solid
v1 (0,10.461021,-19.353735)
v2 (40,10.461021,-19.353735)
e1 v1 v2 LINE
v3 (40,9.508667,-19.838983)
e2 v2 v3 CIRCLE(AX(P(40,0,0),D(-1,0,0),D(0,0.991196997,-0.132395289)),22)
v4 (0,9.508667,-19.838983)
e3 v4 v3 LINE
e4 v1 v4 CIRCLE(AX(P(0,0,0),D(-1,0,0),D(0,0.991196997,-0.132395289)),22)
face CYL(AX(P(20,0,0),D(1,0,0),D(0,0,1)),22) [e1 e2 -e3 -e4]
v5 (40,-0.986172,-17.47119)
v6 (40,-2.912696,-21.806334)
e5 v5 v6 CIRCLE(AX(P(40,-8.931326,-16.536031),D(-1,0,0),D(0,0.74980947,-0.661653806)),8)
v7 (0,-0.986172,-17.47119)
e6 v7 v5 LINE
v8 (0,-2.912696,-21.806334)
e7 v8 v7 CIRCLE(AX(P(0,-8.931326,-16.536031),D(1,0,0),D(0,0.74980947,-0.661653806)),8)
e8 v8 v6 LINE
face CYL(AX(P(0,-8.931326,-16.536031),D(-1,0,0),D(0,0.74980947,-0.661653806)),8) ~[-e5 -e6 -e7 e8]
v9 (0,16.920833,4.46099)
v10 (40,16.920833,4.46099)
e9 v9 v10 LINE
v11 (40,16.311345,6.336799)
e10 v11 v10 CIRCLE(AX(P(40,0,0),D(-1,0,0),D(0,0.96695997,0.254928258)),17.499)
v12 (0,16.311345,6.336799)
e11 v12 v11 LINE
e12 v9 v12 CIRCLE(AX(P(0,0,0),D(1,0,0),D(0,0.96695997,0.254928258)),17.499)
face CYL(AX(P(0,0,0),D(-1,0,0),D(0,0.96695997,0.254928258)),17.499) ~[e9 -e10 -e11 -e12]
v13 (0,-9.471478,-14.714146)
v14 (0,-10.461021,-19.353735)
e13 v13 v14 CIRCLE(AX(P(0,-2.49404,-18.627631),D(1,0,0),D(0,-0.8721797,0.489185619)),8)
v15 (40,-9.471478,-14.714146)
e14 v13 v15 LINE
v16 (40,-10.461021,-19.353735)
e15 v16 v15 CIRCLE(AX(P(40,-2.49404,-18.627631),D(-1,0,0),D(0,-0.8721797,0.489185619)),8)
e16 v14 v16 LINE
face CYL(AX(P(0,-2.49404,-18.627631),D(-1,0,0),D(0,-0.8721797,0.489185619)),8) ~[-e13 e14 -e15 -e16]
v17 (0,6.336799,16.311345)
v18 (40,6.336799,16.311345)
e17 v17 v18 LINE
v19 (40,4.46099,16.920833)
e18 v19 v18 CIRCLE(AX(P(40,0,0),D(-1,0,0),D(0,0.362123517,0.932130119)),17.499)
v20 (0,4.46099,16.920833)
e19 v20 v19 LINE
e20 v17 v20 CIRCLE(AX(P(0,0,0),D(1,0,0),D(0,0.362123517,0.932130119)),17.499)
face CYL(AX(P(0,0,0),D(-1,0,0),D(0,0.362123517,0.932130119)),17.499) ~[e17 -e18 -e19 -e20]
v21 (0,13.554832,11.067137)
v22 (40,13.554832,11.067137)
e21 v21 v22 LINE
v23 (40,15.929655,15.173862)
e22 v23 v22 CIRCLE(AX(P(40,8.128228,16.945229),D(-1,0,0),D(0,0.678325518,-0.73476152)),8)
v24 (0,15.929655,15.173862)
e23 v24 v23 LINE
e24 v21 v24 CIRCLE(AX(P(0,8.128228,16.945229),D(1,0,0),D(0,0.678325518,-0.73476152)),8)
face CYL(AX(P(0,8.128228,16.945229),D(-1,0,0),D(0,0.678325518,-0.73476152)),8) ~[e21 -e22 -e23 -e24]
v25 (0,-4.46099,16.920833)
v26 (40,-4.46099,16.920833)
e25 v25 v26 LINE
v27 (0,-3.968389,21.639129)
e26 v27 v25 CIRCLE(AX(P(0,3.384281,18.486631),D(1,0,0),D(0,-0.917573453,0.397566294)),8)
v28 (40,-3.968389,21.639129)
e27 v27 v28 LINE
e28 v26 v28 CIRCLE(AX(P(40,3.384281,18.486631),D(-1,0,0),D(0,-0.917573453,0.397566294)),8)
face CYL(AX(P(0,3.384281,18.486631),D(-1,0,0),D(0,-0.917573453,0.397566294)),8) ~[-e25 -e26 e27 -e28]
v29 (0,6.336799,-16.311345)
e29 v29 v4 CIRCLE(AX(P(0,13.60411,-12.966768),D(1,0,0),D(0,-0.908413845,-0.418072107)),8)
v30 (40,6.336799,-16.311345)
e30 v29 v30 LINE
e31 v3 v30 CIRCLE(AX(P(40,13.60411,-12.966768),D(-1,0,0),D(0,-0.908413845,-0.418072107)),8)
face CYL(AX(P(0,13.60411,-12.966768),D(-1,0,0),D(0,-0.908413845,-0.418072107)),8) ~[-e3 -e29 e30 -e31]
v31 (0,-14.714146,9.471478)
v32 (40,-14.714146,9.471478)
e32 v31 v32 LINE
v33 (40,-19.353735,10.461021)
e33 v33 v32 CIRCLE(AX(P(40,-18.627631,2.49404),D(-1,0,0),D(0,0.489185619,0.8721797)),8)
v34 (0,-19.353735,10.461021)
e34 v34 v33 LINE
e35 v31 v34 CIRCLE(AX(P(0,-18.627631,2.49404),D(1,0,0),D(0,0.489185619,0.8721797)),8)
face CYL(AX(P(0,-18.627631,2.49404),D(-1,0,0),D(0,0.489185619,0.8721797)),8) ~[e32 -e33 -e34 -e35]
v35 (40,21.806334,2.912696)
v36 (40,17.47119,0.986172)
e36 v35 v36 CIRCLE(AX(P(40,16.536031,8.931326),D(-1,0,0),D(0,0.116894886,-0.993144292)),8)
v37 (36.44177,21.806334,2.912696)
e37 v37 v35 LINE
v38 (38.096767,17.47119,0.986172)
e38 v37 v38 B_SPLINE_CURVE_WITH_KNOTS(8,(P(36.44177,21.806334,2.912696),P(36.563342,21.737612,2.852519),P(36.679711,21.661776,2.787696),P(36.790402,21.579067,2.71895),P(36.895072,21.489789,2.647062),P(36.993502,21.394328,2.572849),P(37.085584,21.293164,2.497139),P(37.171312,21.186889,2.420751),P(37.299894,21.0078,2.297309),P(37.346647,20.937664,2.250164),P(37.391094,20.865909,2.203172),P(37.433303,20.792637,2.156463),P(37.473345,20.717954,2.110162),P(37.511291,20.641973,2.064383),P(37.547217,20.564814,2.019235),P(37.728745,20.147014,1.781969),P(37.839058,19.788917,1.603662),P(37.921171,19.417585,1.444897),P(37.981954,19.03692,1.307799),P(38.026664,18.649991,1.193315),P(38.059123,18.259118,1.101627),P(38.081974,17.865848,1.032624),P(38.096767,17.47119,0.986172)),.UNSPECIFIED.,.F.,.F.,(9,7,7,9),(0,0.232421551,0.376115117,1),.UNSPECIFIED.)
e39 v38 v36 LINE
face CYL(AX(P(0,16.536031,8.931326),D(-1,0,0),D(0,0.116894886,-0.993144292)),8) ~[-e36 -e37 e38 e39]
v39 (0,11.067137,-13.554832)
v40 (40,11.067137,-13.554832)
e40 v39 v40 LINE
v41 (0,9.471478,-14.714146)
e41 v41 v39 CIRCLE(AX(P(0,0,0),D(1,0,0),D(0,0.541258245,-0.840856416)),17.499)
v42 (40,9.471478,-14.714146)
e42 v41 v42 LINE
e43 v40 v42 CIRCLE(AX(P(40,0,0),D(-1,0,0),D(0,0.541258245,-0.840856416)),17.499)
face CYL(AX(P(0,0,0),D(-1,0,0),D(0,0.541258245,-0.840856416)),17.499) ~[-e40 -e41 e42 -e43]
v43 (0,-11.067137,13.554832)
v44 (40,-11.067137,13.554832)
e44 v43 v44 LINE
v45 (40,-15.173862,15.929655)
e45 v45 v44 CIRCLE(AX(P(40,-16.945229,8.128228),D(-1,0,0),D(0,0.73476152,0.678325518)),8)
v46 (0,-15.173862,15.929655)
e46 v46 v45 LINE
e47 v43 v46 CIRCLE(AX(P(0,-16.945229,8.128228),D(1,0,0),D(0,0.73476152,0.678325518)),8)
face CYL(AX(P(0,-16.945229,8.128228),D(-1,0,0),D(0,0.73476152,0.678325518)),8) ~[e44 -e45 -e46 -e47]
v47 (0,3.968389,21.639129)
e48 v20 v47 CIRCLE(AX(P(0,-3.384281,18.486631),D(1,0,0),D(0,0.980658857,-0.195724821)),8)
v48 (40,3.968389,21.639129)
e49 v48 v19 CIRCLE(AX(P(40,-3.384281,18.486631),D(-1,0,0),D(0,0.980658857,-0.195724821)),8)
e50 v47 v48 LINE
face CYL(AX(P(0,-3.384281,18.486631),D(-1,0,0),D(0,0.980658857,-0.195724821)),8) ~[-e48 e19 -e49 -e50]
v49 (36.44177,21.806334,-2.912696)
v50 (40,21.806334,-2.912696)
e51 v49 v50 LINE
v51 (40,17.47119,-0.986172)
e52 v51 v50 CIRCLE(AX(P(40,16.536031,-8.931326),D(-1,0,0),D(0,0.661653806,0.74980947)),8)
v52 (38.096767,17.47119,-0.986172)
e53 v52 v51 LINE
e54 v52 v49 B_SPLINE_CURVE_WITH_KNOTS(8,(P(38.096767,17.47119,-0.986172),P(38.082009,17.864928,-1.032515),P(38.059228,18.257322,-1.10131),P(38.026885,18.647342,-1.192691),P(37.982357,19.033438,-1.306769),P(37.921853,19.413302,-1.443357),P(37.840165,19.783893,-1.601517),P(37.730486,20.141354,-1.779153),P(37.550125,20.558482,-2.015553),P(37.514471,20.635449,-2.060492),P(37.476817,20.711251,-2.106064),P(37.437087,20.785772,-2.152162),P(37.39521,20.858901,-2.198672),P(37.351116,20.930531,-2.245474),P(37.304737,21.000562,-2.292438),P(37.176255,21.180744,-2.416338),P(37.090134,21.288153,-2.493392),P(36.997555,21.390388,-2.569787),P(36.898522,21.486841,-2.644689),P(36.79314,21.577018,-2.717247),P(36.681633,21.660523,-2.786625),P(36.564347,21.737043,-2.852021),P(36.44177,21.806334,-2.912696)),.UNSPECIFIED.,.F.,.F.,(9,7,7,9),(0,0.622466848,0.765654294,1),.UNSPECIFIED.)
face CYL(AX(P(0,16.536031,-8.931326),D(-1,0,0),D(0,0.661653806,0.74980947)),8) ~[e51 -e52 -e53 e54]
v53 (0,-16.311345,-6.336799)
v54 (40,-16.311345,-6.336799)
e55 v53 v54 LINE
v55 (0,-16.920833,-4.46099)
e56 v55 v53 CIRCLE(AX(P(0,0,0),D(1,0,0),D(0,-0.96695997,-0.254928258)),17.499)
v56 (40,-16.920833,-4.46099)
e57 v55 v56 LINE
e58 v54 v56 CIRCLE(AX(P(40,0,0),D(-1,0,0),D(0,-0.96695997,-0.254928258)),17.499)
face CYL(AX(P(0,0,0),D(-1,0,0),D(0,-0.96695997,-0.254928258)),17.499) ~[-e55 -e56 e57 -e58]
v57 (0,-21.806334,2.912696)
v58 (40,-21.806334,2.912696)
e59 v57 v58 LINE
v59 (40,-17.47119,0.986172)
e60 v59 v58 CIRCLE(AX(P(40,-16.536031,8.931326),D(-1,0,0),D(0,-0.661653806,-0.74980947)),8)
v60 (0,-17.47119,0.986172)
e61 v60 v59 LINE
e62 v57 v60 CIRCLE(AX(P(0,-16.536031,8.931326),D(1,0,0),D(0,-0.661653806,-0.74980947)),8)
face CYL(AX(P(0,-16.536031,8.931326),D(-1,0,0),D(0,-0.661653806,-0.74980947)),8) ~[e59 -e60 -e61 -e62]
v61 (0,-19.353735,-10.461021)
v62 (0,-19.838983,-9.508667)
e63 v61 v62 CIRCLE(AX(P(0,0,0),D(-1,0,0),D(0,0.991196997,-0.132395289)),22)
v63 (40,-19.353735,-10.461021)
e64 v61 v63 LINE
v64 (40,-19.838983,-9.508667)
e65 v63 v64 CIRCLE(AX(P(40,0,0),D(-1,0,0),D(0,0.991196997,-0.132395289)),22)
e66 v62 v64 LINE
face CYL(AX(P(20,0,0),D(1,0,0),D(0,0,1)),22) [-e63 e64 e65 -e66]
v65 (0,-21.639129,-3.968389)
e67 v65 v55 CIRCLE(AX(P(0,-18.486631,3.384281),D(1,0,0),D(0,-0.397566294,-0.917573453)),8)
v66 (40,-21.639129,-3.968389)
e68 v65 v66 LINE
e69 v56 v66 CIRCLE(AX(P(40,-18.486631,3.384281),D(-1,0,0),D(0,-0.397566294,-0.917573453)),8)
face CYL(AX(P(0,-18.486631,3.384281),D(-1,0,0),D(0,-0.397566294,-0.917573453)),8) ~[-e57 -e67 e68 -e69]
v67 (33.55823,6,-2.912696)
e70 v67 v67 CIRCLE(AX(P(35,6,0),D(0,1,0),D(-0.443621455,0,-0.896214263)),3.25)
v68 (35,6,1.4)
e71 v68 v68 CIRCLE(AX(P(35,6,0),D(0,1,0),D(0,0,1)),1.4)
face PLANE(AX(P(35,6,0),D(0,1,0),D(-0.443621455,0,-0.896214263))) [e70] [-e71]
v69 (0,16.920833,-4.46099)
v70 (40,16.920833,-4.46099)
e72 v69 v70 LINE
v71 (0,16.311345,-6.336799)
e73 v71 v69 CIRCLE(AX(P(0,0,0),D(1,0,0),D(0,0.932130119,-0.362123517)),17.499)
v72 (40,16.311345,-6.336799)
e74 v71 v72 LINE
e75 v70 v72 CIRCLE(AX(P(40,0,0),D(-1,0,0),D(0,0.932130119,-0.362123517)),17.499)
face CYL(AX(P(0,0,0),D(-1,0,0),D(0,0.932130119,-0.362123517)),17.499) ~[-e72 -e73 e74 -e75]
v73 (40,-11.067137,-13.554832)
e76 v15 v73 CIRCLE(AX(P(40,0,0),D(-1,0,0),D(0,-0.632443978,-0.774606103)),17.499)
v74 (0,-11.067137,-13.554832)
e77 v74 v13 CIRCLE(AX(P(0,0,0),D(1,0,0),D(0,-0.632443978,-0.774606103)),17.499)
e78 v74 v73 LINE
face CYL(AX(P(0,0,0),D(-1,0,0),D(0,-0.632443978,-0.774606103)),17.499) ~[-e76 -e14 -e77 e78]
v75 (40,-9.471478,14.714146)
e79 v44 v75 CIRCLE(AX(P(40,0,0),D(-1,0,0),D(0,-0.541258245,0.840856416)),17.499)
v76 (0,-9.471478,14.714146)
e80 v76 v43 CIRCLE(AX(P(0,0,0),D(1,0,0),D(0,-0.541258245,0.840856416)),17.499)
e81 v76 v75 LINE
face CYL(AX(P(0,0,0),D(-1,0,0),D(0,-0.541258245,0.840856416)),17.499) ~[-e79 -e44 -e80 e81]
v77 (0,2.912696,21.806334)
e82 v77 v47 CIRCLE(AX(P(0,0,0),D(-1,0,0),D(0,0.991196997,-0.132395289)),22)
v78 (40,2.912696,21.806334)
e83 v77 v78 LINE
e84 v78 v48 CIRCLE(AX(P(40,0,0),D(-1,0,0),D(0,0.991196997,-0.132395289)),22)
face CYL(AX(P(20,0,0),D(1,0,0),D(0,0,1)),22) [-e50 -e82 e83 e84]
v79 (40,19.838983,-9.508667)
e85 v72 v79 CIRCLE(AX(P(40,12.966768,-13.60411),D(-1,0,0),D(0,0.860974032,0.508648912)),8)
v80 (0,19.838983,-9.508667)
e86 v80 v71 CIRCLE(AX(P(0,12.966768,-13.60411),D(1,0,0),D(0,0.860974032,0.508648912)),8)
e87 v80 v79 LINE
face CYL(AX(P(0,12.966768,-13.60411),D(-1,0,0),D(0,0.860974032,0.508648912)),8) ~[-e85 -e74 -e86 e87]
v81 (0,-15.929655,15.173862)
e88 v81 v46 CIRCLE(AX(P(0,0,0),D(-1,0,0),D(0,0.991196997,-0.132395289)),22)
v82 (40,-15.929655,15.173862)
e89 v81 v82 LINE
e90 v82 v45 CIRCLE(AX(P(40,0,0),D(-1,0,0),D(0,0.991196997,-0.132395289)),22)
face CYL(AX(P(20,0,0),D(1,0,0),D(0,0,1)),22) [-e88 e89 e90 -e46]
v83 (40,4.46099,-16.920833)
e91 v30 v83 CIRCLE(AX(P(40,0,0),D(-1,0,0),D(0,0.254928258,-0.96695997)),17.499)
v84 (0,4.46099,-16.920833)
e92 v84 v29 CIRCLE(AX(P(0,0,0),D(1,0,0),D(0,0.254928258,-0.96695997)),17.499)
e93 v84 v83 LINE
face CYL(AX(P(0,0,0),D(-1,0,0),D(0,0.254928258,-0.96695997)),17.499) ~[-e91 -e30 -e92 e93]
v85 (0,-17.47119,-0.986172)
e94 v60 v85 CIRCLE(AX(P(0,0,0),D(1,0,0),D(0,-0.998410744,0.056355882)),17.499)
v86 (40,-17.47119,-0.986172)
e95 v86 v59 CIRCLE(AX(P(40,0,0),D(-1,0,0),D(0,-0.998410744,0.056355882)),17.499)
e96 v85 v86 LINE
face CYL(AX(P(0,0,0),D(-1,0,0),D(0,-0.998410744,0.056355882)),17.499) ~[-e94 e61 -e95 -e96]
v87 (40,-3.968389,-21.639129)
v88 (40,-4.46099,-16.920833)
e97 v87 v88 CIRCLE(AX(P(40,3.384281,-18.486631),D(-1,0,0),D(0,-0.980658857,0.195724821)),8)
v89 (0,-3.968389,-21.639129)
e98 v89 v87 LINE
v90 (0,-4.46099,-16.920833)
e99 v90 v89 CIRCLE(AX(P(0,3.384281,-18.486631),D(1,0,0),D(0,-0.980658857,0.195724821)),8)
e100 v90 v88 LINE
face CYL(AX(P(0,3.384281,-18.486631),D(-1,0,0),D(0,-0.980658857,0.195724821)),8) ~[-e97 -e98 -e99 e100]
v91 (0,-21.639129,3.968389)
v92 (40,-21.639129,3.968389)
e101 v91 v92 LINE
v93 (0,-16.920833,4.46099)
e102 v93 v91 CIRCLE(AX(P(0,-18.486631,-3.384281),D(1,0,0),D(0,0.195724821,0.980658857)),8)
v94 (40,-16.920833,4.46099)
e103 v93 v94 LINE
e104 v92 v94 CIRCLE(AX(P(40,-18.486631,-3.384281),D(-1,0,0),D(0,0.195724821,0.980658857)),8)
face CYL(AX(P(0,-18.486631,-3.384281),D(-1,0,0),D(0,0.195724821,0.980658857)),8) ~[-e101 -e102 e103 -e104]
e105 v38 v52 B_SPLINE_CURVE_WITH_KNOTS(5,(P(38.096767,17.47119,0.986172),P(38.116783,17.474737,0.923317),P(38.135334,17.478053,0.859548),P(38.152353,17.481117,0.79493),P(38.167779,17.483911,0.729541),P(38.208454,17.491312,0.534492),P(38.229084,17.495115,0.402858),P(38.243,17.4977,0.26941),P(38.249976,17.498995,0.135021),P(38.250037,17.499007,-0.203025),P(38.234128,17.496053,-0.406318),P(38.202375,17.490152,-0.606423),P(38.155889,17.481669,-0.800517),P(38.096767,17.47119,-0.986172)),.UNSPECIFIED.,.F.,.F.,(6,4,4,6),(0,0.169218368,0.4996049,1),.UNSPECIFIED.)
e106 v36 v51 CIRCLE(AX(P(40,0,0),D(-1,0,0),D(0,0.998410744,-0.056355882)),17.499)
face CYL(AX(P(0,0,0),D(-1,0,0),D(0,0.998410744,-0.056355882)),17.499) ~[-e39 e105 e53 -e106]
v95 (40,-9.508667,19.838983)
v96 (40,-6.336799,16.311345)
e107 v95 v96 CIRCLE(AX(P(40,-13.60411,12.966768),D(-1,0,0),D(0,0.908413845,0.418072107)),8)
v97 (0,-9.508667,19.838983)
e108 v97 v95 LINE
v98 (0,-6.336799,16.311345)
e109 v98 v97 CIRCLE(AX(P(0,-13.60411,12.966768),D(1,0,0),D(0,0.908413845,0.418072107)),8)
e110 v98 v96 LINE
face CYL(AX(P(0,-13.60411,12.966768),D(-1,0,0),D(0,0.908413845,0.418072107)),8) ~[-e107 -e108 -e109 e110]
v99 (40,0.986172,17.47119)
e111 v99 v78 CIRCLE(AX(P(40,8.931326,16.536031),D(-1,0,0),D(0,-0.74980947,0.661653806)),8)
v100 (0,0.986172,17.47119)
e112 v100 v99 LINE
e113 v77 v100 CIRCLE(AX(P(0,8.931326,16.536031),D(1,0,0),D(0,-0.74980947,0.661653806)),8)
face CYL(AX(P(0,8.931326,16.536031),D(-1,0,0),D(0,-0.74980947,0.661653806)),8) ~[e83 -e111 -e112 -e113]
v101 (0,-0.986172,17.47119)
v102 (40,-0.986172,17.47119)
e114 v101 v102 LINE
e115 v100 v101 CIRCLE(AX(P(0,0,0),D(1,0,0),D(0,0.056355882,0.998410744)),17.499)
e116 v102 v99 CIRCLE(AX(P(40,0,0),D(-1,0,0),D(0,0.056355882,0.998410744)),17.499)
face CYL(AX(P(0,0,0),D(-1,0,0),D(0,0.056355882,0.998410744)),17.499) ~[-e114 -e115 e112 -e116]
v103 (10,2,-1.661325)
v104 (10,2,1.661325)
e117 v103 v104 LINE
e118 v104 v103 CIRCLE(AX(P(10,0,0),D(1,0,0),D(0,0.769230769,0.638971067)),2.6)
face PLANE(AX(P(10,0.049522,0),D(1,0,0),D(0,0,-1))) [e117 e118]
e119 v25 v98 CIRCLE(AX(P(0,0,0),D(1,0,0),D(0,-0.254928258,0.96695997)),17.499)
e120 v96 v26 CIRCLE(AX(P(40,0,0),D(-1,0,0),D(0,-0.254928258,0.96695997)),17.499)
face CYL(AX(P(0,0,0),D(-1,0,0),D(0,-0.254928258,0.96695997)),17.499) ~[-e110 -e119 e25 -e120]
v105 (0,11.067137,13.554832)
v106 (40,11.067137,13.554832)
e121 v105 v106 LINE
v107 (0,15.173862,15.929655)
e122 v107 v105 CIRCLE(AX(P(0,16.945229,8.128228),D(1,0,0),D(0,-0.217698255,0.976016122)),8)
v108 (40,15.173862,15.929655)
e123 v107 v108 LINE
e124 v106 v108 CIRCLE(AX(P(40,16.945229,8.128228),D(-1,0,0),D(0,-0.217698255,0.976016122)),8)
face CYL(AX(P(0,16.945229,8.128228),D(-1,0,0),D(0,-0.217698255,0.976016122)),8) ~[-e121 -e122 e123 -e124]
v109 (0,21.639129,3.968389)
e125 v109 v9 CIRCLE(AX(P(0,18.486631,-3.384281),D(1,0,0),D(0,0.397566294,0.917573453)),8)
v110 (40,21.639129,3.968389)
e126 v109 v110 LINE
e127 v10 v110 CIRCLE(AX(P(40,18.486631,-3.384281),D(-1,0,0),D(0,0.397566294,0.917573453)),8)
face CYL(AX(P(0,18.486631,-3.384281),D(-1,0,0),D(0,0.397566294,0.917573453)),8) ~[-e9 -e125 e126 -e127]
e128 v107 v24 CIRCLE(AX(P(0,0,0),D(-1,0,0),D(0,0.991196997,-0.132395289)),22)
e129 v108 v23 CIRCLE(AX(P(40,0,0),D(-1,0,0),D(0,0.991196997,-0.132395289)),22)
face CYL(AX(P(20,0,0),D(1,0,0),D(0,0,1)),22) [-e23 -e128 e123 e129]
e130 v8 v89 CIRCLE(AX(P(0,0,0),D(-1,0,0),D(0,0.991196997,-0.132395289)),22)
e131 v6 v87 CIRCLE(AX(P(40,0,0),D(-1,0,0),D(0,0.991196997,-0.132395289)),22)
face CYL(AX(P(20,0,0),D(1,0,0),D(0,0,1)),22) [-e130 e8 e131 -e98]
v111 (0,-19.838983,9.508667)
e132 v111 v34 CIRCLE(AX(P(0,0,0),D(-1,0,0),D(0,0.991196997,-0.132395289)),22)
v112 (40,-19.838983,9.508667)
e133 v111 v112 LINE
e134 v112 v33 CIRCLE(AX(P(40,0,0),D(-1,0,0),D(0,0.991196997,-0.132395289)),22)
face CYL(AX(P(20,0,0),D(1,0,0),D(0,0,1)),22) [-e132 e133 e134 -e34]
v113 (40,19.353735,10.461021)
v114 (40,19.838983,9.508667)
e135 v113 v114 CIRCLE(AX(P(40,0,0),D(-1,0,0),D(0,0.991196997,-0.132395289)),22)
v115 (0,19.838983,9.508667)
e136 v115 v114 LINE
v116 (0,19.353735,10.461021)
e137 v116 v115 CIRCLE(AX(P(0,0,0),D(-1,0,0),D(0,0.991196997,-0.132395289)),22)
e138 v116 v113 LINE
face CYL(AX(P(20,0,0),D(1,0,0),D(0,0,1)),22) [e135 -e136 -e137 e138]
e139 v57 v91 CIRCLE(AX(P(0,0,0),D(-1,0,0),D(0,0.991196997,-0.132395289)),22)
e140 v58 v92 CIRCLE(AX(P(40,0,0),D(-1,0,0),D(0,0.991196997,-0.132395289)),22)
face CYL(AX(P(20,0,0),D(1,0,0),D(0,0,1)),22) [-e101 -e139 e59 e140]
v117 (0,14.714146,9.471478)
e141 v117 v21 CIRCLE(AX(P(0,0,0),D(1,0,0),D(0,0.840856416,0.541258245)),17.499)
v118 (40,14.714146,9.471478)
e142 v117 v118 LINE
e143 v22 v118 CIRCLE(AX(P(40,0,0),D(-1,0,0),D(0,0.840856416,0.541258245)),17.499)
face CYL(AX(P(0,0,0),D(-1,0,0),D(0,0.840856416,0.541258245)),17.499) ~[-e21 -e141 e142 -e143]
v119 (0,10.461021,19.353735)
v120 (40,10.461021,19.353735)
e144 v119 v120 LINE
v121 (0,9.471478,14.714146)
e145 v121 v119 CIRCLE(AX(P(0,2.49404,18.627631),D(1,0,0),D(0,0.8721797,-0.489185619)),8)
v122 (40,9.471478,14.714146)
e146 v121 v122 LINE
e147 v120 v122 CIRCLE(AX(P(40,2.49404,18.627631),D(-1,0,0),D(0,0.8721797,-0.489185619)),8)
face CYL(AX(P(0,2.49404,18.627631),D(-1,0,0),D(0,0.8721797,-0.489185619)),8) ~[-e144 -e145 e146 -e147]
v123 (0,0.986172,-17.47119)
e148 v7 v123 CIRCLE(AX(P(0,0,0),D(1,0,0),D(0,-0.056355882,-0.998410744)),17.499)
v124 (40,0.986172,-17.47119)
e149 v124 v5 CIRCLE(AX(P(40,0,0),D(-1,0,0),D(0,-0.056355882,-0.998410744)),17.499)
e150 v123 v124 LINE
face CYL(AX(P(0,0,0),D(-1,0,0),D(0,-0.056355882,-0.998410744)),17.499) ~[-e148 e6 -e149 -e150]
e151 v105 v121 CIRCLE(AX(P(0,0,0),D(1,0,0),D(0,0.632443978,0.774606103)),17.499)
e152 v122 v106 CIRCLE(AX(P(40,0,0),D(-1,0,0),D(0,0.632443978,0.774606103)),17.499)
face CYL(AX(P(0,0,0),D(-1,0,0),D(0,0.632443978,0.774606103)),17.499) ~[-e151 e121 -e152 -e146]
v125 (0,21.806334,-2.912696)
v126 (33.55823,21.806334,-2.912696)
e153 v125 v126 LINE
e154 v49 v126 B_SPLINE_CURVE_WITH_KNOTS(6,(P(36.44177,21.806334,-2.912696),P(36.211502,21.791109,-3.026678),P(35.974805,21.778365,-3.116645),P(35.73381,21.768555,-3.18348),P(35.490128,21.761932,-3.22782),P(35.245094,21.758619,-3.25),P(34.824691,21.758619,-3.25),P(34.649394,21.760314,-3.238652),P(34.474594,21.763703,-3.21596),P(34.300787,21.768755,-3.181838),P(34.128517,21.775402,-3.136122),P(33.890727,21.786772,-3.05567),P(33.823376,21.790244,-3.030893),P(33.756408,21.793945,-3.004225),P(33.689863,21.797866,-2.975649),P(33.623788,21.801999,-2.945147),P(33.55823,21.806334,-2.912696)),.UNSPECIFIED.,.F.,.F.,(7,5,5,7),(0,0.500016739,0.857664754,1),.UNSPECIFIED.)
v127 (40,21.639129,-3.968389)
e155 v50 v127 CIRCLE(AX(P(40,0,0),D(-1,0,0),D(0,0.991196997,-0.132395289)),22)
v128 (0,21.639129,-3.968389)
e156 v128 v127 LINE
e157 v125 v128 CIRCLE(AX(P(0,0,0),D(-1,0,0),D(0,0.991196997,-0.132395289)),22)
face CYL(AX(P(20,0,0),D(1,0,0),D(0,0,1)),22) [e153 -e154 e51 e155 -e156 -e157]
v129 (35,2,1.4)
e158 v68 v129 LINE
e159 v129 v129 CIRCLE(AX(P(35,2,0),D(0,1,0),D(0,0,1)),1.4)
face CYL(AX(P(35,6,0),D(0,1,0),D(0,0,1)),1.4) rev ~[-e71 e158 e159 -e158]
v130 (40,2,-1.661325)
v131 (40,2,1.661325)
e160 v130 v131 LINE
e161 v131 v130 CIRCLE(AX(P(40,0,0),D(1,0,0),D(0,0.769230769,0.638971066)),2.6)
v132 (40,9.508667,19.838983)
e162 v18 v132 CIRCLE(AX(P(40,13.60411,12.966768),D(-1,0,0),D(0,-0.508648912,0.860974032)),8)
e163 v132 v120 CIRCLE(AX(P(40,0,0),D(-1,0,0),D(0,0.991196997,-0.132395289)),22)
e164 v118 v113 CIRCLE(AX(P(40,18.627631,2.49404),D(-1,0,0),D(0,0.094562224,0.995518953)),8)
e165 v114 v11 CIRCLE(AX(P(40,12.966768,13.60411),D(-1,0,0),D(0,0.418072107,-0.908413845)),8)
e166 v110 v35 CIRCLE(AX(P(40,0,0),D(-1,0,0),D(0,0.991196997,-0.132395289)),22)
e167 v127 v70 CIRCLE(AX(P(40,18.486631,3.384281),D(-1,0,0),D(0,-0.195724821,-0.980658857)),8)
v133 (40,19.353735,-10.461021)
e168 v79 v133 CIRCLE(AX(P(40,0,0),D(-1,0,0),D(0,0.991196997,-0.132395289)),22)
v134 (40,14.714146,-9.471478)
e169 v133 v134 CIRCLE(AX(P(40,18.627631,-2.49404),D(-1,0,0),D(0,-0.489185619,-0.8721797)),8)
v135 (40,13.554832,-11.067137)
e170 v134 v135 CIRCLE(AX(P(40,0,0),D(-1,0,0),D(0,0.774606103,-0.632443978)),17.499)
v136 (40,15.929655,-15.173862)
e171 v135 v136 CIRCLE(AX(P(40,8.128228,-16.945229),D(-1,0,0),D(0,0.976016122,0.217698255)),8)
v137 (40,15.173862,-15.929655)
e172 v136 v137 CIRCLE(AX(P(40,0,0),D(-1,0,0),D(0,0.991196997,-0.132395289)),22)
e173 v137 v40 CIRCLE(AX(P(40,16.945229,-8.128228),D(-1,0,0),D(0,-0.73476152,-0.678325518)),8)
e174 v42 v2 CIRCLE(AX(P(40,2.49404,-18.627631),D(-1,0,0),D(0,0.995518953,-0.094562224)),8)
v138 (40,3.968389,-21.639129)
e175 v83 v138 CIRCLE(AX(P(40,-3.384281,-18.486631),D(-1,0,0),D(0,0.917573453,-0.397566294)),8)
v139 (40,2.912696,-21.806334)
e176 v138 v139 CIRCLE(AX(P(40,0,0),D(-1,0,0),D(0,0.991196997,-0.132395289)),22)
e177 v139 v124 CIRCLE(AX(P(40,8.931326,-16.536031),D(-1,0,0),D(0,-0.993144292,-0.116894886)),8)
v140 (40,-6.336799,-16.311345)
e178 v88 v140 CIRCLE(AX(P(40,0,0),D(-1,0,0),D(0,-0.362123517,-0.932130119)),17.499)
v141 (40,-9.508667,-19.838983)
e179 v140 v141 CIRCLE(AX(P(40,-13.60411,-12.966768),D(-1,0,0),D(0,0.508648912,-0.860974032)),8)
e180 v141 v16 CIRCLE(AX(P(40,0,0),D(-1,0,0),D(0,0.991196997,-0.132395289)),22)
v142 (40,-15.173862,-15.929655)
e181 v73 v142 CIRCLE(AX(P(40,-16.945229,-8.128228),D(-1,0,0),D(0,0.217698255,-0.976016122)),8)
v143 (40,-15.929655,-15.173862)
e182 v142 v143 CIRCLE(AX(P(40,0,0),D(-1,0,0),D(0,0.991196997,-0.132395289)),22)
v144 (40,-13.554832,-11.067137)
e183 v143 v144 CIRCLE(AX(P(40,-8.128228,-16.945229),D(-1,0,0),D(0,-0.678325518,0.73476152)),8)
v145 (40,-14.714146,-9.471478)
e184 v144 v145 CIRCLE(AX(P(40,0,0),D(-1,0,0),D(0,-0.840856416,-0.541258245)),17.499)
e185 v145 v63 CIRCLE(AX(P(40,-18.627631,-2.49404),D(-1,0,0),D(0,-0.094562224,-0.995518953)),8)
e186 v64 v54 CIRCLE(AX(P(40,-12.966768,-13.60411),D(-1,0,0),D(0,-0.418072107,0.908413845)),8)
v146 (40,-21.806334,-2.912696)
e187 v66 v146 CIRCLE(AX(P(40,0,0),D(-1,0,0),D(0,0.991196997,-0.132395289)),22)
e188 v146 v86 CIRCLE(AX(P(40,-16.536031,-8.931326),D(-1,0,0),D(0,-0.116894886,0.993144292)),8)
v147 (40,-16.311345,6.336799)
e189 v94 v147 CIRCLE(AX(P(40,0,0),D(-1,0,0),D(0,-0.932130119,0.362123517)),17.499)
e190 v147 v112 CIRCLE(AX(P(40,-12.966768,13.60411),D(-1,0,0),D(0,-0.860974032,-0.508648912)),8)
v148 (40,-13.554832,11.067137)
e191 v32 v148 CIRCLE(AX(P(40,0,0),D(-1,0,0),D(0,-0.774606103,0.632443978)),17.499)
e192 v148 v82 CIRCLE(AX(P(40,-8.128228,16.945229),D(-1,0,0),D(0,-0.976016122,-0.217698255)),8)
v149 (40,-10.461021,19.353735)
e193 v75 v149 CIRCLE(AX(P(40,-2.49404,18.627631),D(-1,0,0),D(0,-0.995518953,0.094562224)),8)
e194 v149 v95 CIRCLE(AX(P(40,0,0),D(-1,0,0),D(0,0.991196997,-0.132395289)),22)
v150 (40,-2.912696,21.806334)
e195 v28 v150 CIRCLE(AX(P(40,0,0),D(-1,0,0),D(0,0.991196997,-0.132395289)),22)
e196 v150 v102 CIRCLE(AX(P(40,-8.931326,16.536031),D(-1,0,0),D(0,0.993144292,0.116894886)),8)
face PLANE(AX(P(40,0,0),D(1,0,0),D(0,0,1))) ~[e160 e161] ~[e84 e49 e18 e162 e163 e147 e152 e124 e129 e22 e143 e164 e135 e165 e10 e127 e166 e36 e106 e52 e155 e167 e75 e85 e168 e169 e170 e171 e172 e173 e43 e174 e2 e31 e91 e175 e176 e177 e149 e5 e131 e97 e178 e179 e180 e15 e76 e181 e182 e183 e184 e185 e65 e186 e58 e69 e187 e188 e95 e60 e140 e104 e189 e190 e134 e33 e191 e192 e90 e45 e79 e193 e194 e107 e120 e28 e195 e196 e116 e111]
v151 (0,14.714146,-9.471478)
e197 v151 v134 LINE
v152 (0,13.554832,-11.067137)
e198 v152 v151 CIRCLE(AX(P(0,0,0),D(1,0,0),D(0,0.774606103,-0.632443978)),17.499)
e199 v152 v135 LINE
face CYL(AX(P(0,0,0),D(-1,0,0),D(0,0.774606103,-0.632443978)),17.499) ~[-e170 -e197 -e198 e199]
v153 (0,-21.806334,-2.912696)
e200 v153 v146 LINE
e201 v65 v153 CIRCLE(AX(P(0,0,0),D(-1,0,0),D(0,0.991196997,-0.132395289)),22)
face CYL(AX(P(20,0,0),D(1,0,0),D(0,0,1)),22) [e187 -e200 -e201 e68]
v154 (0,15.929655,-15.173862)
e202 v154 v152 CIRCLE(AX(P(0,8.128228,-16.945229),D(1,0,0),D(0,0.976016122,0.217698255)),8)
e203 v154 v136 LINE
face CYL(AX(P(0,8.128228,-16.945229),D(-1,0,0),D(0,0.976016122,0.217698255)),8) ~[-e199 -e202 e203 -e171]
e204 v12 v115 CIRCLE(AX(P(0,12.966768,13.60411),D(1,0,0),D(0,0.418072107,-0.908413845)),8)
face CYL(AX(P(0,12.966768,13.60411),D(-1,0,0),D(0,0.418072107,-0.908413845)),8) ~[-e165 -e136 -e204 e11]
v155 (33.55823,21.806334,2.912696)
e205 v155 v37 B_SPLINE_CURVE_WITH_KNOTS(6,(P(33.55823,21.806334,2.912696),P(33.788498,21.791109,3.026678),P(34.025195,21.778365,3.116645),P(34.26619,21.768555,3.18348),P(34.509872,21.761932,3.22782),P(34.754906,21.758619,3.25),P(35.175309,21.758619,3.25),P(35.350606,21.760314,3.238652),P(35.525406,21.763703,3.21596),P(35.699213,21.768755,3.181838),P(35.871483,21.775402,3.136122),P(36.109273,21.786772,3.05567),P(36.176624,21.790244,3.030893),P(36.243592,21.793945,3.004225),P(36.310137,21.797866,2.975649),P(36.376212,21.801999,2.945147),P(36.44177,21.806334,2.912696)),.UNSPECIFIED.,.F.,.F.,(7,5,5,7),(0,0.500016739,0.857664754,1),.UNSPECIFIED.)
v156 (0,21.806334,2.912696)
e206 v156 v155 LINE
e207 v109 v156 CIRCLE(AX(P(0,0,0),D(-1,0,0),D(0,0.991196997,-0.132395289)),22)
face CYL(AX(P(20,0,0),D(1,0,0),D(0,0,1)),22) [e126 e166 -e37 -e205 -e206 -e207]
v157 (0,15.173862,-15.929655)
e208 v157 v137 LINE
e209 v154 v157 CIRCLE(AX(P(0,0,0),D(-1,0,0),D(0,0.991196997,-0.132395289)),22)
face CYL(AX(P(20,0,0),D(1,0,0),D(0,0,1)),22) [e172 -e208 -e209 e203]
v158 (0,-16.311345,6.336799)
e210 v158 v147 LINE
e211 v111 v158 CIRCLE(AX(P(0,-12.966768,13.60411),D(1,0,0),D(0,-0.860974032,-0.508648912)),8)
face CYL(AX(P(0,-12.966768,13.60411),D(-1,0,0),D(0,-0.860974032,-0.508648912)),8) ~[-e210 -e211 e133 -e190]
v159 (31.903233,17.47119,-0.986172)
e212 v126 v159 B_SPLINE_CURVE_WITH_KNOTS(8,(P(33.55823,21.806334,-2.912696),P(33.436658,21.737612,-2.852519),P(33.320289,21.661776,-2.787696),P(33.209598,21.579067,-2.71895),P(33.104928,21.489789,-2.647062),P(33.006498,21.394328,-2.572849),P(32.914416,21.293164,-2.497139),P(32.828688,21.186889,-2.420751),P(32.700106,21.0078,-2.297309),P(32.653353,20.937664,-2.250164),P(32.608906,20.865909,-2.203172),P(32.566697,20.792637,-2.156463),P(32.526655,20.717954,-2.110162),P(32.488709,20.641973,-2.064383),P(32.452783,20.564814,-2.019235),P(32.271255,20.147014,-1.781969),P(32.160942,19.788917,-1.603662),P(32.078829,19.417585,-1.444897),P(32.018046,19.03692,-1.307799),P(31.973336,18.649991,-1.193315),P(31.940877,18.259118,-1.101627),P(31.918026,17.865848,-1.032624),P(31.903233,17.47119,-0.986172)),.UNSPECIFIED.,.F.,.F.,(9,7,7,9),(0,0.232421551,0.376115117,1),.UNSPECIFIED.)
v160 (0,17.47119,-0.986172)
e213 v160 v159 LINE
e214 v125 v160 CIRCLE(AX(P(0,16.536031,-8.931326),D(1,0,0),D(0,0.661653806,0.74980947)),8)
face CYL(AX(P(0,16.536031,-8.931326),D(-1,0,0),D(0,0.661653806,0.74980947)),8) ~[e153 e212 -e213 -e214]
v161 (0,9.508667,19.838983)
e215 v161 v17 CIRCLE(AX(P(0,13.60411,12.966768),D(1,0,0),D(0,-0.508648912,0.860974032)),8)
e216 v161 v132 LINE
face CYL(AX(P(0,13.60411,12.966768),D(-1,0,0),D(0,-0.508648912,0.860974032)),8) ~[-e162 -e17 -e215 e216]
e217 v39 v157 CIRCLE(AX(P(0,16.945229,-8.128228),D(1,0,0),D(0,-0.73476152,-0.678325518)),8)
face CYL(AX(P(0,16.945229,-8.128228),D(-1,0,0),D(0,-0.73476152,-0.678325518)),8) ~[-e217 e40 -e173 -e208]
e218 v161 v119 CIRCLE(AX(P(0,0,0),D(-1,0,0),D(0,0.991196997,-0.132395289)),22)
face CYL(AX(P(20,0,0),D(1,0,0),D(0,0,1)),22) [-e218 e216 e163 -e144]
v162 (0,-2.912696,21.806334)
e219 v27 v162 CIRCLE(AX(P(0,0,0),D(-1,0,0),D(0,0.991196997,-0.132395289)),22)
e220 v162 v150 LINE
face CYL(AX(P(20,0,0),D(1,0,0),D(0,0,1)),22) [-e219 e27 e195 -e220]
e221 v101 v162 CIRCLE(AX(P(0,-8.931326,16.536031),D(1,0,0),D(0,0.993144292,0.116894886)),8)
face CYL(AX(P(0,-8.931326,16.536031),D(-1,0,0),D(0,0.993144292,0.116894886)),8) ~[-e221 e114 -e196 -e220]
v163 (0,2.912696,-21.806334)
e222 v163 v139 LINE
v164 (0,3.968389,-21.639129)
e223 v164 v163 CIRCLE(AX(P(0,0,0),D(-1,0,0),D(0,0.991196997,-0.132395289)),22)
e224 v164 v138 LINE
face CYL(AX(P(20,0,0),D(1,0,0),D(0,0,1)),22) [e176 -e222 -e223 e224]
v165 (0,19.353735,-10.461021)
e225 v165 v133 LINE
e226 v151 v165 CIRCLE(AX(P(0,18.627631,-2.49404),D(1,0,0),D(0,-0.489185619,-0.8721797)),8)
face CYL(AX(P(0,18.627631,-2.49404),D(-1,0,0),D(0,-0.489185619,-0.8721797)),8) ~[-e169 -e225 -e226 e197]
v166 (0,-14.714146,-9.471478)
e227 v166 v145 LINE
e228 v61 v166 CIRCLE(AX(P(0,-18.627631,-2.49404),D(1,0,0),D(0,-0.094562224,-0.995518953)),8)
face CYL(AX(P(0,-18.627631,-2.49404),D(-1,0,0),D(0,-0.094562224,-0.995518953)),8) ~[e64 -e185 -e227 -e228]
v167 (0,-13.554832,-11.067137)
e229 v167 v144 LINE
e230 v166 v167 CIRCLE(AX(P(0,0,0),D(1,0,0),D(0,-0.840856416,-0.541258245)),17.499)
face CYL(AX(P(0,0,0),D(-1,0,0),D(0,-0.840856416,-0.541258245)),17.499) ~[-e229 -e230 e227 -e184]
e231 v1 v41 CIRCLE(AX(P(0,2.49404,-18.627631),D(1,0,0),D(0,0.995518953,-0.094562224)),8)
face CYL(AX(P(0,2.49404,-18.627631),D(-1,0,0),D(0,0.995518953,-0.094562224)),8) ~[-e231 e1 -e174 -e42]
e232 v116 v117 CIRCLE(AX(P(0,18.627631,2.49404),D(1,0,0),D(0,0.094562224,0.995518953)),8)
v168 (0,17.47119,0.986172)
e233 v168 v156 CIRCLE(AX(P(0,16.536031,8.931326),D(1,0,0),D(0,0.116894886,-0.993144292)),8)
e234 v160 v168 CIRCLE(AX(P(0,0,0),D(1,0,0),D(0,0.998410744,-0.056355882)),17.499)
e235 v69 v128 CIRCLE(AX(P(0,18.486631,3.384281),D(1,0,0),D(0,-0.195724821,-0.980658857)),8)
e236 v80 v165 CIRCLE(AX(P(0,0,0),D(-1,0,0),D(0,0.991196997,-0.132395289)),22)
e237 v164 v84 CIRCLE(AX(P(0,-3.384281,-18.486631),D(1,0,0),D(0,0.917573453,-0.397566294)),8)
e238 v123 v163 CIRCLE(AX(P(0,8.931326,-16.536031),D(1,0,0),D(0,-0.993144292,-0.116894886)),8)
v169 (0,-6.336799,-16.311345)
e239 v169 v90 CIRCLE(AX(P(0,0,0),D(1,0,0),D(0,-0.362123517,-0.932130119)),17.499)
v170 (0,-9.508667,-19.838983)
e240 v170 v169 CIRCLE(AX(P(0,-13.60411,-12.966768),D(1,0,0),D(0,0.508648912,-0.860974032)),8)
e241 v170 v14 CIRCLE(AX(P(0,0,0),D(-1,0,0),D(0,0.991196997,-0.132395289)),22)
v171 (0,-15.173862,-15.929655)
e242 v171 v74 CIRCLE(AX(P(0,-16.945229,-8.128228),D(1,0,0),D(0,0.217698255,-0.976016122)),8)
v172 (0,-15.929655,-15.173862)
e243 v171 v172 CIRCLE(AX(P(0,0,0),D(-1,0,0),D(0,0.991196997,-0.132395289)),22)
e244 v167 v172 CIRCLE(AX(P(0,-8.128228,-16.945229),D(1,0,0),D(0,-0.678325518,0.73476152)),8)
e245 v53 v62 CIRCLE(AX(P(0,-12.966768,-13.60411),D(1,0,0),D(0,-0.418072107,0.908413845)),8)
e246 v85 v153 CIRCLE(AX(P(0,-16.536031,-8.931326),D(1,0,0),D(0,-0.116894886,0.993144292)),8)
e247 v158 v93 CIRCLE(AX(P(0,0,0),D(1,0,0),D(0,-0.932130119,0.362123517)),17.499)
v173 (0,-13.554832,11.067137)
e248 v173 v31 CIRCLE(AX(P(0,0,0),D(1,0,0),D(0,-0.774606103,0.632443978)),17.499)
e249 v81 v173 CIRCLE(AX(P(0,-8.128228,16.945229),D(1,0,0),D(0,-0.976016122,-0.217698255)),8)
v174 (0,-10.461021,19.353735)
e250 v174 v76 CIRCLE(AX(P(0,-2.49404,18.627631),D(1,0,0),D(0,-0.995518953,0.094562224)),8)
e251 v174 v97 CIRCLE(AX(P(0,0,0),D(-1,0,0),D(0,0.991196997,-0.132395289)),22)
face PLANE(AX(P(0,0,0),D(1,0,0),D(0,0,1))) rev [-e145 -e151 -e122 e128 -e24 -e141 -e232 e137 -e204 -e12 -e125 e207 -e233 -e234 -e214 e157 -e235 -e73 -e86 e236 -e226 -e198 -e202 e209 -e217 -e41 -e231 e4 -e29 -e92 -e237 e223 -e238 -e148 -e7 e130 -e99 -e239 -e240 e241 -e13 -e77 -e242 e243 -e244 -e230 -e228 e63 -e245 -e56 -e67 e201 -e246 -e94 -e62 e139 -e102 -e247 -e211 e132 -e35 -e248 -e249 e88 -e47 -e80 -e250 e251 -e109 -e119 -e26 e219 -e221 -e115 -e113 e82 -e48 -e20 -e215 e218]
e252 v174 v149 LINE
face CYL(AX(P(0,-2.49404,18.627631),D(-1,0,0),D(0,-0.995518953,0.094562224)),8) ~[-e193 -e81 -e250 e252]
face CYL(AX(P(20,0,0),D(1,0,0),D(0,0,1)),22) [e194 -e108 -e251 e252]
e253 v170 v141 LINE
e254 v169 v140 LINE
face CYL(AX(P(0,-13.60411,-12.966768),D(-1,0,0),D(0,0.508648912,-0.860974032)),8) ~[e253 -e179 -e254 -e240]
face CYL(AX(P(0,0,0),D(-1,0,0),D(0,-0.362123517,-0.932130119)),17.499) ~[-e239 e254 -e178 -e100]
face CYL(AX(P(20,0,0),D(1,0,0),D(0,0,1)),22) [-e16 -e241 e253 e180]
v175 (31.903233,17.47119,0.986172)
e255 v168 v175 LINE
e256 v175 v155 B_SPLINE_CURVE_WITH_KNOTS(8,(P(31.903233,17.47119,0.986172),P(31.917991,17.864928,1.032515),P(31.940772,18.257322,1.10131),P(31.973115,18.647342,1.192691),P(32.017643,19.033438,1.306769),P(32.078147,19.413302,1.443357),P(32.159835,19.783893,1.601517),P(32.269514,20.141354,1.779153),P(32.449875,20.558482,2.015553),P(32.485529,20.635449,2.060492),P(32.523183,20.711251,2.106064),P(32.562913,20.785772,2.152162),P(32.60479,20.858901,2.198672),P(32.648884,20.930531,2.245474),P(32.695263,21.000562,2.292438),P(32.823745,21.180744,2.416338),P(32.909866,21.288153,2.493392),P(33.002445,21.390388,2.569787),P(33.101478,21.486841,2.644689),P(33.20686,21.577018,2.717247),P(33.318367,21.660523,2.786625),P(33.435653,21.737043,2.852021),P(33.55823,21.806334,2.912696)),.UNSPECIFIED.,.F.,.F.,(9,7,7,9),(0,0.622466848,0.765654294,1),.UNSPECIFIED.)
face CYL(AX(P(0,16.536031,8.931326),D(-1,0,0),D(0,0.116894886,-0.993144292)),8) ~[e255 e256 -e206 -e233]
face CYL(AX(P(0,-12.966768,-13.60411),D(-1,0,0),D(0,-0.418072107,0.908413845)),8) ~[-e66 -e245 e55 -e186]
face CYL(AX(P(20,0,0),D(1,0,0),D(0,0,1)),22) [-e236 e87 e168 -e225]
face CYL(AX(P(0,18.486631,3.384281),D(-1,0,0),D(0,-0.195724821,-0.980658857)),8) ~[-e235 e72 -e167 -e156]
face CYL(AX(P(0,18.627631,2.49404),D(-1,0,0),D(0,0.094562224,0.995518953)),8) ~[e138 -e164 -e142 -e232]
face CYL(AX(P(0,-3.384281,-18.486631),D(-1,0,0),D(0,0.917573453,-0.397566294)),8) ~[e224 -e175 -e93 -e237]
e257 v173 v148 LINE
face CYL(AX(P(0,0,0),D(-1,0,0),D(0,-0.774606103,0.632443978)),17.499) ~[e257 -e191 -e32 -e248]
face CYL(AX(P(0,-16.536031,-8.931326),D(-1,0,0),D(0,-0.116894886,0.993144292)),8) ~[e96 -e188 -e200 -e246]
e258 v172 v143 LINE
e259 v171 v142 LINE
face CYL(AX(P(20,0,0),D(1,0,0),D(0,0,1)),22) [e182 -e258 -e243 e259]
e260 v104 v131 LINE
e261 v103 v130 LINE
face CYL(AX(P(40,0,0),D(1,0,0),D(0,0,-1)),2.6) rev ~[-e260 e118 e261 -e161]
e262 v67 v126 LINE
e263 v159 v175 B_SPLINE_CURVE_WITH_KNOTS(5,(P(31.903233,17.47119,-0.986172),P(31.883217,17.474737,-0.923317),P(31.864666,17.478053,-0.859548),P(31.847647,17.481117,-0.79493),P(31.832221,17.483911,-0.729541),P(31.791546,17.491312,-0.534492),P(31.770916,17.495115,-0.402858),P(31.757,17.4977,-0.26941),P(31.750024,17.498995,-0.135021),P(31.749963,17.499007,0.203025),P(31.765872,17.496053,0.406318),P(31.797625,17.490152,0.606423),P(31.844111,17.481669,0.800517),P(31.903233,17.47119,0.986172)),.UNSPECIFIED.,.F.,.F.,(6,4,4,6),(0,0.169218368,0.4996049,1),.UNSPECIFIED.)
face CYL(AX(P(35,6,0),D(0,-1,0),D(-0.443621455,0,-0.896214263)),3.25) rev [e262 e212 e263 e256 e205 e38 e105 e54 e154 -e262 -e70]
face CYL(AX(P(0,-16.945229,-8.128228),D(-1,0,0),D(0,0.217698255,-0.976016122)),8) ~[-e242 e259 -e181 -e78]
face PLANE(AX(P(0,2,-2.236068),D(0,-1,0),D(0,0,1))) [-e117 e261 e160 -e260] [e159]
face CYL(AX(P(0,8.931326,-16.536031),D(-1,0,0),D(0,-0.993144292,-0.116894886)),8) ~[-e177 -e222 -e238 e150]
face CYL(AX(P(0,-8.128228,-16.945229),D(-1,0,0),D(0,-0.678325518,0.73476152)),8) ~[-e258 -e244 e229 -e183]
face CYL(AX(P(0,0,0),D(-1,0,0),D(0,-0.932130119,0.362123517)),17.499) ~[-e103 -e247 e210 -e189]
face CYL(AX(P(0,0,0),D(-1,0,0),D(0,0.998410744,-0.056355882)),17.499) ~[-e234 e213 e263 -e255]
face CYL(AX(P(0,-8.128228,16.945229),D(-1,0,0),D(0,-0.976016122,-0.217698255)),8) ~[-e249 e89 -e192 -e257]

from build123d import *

# Parameters (mm, degrees)
BASPROSKE_W         = 40
BASPROSKE_H         = 22
TOOTHCUT_DEPTH      = 51.675437837
TEETHCUTS_COUNT     = 20
TEETHCUTS_ANGLE     = 342
BORSKE_R            = 0.4
BORE_DEPTH          = 50.0000508
SKETCH1_R           = 2.6
CUT_EXTRUDE1_DEPTH  = 51.50774594
BOSS_EXTRUDE1_DEPTH = 40
BOSS_EXTRUDE2_START = -10
BOSS_EXTRUDE2_DEPTH = 10
SKETCH4_R           = 3.25
CUT_EXTRUDE2_DEPTH  = 54.373293014
CUT_EXTRUDE3_REACH  = 55.373
SKETCH5_R           = 1.4


with BuildPart() as part:
    # BasProSke → Base-Revolve (revolve)
    with BuildSketch(Plane(origin=(0, 0, 0), x_dir=(1, 0, 0), z_dir=(0, 1, 0)), mode=Mode.PRIVATE) as base_revolve_sk:
        with Locations((20, 11)):
            Rectangle(BASPROSKE_W, BASPROSKE_H)
    revolve(base_revolve_sk.sketch.rotate(Axis((-10, 0, 0), (1, 0, 0)), 180), axis=Axis((-10, 0, 0), (1, 0, 0)))

    # TooCutSke → ToothCut (cut, through all)
    with BuildSketch(Plane(origin=(0, 0, 0), x_dir=(0, 0, -1), z_dir=(1, 0, 0))):
        with BuildLine():
            ThreePointArc((0.986171591, 17.471189616), (0, 17.499), (-0.986171591, 17.471189616))
            ThreePointArc((-0.986171591, 17.471189616), (-1.626916196, 19.798789858), (-2.932850173, 21.829260982))
            ThreePointArc((-2.932850173, 21.829260982), (0, 22.0254), (2.932850173, 21.829260982))
            ThreePointArc((2.932850173, 21.829260982), (1.626916196, 19.798789858), (0.986171591, 17.471189616))
        make_face()
    toothcut = extrude(amount=TOOTHCUT_DEPTH, mode=Mode.SUBTRACT)

    # TeethCuts: ToothCut ×20 about axis
    teethcuts_axis = Axis((-10, 0, 0), (1, 0, 0))
    for i in range(1, TEETHCUTS_COUNT):
        add(toothcut.rotate(teethcuts_axis, i * TEETHCUTS_ANGLE / (TEETHCUTS_COUNT - 1)), mode=Mode.SUBTRACT)

    # BorSke → Bore (cut, symmetric)
    with BuildSketch(Plane(origin=(0, 0, 0), x_dir=(0, 0, -1), z_dir=(1, 0, 0))):
        with Locations(Location((0, 0, 0), (0, 0, 180))):
            Circle(BORSKE_R)
    extrude(amount=BORE_DEPTH, both=True, mode=Mode.SUBTRACT)

    # Sketch1 → Cut-Extrude1 (cut, through all)
    with BuildSketch(Plane(origin=(40, 0, 0), x_dir=(0, 0, -1), z_dir=(1, 0, 0))):
        Circle(SKETCH1_R)
    extrude(amount=-CUT_EXTRUDE1_DEPTH, mode=Mode.SUBTRACT)

    # Sketch2 → Boss-Extrude1 (add)
    with BuildSketch(Plane.ZY):
        with BuildLine():
            Line((-2.236067977, 2), (2.236067977, 2))
            ThreePointArc((2.236067977, 2), (0, 3), (-2.236067977, 2))
        make_face()
    extrude(amount=-BOSS_EXTRUDE1_DEPTH)

    # Sketch3 → Boss-Extrude2 (add)
    with BuildSketch(Plane.ZY.offset(BOSS_EXTRUDE2_START)):
        with BuildLine():
            Line((-1.661324773, 2), (1.661324773, 2))
            ThreePointArc((1.661324773, 2), (0, -2.6), (-1.661324773, 2))
        make_face()
    extrude(amount=BOSS_EXTRUDE2_DEPTH)

    # Sketch4 → Cut-Extrude2 (cut, through all)
    with BuildSketch(Plane(origin=(0, 6, 0), x_dir=(1, 0, 0), z_dir=(0, 1, 0))):
        with Locations(Location((35, 0, 0), (0, 0, 116.335173549))):
            Circle(SKETCH4_R)
    extrude(amount=CUT_EXTRUDE2_DEPTH, mode=Mode.SUBTRACT)

    # Sketch5 → Cut-Extrude3 (cut, up to next)
    with BuildSketch(Plane(origin=(0, 6, 0), x_dir=(1, 0, 0), z_dir=(0, 1, 0)), mode=Mode.PRIVATE) as cut_extrude3_sk1:
        with Locations(Location((35, 0, 0), (0, 0, 270))):
            Circle(SKETCH5_R)
    cut_extrude3_tool1 = extrude(cut_extrude3_sk1.sketch, amount=-CUT_EXTRUDE3_REACH, mode=Mode.PRIVATE) & part.part
    add(cut_extrude3_tool1.solids().sort_by_distance((35, 6, 0))[0], mode=Mode.SUBTRACT)


solid = part.part
